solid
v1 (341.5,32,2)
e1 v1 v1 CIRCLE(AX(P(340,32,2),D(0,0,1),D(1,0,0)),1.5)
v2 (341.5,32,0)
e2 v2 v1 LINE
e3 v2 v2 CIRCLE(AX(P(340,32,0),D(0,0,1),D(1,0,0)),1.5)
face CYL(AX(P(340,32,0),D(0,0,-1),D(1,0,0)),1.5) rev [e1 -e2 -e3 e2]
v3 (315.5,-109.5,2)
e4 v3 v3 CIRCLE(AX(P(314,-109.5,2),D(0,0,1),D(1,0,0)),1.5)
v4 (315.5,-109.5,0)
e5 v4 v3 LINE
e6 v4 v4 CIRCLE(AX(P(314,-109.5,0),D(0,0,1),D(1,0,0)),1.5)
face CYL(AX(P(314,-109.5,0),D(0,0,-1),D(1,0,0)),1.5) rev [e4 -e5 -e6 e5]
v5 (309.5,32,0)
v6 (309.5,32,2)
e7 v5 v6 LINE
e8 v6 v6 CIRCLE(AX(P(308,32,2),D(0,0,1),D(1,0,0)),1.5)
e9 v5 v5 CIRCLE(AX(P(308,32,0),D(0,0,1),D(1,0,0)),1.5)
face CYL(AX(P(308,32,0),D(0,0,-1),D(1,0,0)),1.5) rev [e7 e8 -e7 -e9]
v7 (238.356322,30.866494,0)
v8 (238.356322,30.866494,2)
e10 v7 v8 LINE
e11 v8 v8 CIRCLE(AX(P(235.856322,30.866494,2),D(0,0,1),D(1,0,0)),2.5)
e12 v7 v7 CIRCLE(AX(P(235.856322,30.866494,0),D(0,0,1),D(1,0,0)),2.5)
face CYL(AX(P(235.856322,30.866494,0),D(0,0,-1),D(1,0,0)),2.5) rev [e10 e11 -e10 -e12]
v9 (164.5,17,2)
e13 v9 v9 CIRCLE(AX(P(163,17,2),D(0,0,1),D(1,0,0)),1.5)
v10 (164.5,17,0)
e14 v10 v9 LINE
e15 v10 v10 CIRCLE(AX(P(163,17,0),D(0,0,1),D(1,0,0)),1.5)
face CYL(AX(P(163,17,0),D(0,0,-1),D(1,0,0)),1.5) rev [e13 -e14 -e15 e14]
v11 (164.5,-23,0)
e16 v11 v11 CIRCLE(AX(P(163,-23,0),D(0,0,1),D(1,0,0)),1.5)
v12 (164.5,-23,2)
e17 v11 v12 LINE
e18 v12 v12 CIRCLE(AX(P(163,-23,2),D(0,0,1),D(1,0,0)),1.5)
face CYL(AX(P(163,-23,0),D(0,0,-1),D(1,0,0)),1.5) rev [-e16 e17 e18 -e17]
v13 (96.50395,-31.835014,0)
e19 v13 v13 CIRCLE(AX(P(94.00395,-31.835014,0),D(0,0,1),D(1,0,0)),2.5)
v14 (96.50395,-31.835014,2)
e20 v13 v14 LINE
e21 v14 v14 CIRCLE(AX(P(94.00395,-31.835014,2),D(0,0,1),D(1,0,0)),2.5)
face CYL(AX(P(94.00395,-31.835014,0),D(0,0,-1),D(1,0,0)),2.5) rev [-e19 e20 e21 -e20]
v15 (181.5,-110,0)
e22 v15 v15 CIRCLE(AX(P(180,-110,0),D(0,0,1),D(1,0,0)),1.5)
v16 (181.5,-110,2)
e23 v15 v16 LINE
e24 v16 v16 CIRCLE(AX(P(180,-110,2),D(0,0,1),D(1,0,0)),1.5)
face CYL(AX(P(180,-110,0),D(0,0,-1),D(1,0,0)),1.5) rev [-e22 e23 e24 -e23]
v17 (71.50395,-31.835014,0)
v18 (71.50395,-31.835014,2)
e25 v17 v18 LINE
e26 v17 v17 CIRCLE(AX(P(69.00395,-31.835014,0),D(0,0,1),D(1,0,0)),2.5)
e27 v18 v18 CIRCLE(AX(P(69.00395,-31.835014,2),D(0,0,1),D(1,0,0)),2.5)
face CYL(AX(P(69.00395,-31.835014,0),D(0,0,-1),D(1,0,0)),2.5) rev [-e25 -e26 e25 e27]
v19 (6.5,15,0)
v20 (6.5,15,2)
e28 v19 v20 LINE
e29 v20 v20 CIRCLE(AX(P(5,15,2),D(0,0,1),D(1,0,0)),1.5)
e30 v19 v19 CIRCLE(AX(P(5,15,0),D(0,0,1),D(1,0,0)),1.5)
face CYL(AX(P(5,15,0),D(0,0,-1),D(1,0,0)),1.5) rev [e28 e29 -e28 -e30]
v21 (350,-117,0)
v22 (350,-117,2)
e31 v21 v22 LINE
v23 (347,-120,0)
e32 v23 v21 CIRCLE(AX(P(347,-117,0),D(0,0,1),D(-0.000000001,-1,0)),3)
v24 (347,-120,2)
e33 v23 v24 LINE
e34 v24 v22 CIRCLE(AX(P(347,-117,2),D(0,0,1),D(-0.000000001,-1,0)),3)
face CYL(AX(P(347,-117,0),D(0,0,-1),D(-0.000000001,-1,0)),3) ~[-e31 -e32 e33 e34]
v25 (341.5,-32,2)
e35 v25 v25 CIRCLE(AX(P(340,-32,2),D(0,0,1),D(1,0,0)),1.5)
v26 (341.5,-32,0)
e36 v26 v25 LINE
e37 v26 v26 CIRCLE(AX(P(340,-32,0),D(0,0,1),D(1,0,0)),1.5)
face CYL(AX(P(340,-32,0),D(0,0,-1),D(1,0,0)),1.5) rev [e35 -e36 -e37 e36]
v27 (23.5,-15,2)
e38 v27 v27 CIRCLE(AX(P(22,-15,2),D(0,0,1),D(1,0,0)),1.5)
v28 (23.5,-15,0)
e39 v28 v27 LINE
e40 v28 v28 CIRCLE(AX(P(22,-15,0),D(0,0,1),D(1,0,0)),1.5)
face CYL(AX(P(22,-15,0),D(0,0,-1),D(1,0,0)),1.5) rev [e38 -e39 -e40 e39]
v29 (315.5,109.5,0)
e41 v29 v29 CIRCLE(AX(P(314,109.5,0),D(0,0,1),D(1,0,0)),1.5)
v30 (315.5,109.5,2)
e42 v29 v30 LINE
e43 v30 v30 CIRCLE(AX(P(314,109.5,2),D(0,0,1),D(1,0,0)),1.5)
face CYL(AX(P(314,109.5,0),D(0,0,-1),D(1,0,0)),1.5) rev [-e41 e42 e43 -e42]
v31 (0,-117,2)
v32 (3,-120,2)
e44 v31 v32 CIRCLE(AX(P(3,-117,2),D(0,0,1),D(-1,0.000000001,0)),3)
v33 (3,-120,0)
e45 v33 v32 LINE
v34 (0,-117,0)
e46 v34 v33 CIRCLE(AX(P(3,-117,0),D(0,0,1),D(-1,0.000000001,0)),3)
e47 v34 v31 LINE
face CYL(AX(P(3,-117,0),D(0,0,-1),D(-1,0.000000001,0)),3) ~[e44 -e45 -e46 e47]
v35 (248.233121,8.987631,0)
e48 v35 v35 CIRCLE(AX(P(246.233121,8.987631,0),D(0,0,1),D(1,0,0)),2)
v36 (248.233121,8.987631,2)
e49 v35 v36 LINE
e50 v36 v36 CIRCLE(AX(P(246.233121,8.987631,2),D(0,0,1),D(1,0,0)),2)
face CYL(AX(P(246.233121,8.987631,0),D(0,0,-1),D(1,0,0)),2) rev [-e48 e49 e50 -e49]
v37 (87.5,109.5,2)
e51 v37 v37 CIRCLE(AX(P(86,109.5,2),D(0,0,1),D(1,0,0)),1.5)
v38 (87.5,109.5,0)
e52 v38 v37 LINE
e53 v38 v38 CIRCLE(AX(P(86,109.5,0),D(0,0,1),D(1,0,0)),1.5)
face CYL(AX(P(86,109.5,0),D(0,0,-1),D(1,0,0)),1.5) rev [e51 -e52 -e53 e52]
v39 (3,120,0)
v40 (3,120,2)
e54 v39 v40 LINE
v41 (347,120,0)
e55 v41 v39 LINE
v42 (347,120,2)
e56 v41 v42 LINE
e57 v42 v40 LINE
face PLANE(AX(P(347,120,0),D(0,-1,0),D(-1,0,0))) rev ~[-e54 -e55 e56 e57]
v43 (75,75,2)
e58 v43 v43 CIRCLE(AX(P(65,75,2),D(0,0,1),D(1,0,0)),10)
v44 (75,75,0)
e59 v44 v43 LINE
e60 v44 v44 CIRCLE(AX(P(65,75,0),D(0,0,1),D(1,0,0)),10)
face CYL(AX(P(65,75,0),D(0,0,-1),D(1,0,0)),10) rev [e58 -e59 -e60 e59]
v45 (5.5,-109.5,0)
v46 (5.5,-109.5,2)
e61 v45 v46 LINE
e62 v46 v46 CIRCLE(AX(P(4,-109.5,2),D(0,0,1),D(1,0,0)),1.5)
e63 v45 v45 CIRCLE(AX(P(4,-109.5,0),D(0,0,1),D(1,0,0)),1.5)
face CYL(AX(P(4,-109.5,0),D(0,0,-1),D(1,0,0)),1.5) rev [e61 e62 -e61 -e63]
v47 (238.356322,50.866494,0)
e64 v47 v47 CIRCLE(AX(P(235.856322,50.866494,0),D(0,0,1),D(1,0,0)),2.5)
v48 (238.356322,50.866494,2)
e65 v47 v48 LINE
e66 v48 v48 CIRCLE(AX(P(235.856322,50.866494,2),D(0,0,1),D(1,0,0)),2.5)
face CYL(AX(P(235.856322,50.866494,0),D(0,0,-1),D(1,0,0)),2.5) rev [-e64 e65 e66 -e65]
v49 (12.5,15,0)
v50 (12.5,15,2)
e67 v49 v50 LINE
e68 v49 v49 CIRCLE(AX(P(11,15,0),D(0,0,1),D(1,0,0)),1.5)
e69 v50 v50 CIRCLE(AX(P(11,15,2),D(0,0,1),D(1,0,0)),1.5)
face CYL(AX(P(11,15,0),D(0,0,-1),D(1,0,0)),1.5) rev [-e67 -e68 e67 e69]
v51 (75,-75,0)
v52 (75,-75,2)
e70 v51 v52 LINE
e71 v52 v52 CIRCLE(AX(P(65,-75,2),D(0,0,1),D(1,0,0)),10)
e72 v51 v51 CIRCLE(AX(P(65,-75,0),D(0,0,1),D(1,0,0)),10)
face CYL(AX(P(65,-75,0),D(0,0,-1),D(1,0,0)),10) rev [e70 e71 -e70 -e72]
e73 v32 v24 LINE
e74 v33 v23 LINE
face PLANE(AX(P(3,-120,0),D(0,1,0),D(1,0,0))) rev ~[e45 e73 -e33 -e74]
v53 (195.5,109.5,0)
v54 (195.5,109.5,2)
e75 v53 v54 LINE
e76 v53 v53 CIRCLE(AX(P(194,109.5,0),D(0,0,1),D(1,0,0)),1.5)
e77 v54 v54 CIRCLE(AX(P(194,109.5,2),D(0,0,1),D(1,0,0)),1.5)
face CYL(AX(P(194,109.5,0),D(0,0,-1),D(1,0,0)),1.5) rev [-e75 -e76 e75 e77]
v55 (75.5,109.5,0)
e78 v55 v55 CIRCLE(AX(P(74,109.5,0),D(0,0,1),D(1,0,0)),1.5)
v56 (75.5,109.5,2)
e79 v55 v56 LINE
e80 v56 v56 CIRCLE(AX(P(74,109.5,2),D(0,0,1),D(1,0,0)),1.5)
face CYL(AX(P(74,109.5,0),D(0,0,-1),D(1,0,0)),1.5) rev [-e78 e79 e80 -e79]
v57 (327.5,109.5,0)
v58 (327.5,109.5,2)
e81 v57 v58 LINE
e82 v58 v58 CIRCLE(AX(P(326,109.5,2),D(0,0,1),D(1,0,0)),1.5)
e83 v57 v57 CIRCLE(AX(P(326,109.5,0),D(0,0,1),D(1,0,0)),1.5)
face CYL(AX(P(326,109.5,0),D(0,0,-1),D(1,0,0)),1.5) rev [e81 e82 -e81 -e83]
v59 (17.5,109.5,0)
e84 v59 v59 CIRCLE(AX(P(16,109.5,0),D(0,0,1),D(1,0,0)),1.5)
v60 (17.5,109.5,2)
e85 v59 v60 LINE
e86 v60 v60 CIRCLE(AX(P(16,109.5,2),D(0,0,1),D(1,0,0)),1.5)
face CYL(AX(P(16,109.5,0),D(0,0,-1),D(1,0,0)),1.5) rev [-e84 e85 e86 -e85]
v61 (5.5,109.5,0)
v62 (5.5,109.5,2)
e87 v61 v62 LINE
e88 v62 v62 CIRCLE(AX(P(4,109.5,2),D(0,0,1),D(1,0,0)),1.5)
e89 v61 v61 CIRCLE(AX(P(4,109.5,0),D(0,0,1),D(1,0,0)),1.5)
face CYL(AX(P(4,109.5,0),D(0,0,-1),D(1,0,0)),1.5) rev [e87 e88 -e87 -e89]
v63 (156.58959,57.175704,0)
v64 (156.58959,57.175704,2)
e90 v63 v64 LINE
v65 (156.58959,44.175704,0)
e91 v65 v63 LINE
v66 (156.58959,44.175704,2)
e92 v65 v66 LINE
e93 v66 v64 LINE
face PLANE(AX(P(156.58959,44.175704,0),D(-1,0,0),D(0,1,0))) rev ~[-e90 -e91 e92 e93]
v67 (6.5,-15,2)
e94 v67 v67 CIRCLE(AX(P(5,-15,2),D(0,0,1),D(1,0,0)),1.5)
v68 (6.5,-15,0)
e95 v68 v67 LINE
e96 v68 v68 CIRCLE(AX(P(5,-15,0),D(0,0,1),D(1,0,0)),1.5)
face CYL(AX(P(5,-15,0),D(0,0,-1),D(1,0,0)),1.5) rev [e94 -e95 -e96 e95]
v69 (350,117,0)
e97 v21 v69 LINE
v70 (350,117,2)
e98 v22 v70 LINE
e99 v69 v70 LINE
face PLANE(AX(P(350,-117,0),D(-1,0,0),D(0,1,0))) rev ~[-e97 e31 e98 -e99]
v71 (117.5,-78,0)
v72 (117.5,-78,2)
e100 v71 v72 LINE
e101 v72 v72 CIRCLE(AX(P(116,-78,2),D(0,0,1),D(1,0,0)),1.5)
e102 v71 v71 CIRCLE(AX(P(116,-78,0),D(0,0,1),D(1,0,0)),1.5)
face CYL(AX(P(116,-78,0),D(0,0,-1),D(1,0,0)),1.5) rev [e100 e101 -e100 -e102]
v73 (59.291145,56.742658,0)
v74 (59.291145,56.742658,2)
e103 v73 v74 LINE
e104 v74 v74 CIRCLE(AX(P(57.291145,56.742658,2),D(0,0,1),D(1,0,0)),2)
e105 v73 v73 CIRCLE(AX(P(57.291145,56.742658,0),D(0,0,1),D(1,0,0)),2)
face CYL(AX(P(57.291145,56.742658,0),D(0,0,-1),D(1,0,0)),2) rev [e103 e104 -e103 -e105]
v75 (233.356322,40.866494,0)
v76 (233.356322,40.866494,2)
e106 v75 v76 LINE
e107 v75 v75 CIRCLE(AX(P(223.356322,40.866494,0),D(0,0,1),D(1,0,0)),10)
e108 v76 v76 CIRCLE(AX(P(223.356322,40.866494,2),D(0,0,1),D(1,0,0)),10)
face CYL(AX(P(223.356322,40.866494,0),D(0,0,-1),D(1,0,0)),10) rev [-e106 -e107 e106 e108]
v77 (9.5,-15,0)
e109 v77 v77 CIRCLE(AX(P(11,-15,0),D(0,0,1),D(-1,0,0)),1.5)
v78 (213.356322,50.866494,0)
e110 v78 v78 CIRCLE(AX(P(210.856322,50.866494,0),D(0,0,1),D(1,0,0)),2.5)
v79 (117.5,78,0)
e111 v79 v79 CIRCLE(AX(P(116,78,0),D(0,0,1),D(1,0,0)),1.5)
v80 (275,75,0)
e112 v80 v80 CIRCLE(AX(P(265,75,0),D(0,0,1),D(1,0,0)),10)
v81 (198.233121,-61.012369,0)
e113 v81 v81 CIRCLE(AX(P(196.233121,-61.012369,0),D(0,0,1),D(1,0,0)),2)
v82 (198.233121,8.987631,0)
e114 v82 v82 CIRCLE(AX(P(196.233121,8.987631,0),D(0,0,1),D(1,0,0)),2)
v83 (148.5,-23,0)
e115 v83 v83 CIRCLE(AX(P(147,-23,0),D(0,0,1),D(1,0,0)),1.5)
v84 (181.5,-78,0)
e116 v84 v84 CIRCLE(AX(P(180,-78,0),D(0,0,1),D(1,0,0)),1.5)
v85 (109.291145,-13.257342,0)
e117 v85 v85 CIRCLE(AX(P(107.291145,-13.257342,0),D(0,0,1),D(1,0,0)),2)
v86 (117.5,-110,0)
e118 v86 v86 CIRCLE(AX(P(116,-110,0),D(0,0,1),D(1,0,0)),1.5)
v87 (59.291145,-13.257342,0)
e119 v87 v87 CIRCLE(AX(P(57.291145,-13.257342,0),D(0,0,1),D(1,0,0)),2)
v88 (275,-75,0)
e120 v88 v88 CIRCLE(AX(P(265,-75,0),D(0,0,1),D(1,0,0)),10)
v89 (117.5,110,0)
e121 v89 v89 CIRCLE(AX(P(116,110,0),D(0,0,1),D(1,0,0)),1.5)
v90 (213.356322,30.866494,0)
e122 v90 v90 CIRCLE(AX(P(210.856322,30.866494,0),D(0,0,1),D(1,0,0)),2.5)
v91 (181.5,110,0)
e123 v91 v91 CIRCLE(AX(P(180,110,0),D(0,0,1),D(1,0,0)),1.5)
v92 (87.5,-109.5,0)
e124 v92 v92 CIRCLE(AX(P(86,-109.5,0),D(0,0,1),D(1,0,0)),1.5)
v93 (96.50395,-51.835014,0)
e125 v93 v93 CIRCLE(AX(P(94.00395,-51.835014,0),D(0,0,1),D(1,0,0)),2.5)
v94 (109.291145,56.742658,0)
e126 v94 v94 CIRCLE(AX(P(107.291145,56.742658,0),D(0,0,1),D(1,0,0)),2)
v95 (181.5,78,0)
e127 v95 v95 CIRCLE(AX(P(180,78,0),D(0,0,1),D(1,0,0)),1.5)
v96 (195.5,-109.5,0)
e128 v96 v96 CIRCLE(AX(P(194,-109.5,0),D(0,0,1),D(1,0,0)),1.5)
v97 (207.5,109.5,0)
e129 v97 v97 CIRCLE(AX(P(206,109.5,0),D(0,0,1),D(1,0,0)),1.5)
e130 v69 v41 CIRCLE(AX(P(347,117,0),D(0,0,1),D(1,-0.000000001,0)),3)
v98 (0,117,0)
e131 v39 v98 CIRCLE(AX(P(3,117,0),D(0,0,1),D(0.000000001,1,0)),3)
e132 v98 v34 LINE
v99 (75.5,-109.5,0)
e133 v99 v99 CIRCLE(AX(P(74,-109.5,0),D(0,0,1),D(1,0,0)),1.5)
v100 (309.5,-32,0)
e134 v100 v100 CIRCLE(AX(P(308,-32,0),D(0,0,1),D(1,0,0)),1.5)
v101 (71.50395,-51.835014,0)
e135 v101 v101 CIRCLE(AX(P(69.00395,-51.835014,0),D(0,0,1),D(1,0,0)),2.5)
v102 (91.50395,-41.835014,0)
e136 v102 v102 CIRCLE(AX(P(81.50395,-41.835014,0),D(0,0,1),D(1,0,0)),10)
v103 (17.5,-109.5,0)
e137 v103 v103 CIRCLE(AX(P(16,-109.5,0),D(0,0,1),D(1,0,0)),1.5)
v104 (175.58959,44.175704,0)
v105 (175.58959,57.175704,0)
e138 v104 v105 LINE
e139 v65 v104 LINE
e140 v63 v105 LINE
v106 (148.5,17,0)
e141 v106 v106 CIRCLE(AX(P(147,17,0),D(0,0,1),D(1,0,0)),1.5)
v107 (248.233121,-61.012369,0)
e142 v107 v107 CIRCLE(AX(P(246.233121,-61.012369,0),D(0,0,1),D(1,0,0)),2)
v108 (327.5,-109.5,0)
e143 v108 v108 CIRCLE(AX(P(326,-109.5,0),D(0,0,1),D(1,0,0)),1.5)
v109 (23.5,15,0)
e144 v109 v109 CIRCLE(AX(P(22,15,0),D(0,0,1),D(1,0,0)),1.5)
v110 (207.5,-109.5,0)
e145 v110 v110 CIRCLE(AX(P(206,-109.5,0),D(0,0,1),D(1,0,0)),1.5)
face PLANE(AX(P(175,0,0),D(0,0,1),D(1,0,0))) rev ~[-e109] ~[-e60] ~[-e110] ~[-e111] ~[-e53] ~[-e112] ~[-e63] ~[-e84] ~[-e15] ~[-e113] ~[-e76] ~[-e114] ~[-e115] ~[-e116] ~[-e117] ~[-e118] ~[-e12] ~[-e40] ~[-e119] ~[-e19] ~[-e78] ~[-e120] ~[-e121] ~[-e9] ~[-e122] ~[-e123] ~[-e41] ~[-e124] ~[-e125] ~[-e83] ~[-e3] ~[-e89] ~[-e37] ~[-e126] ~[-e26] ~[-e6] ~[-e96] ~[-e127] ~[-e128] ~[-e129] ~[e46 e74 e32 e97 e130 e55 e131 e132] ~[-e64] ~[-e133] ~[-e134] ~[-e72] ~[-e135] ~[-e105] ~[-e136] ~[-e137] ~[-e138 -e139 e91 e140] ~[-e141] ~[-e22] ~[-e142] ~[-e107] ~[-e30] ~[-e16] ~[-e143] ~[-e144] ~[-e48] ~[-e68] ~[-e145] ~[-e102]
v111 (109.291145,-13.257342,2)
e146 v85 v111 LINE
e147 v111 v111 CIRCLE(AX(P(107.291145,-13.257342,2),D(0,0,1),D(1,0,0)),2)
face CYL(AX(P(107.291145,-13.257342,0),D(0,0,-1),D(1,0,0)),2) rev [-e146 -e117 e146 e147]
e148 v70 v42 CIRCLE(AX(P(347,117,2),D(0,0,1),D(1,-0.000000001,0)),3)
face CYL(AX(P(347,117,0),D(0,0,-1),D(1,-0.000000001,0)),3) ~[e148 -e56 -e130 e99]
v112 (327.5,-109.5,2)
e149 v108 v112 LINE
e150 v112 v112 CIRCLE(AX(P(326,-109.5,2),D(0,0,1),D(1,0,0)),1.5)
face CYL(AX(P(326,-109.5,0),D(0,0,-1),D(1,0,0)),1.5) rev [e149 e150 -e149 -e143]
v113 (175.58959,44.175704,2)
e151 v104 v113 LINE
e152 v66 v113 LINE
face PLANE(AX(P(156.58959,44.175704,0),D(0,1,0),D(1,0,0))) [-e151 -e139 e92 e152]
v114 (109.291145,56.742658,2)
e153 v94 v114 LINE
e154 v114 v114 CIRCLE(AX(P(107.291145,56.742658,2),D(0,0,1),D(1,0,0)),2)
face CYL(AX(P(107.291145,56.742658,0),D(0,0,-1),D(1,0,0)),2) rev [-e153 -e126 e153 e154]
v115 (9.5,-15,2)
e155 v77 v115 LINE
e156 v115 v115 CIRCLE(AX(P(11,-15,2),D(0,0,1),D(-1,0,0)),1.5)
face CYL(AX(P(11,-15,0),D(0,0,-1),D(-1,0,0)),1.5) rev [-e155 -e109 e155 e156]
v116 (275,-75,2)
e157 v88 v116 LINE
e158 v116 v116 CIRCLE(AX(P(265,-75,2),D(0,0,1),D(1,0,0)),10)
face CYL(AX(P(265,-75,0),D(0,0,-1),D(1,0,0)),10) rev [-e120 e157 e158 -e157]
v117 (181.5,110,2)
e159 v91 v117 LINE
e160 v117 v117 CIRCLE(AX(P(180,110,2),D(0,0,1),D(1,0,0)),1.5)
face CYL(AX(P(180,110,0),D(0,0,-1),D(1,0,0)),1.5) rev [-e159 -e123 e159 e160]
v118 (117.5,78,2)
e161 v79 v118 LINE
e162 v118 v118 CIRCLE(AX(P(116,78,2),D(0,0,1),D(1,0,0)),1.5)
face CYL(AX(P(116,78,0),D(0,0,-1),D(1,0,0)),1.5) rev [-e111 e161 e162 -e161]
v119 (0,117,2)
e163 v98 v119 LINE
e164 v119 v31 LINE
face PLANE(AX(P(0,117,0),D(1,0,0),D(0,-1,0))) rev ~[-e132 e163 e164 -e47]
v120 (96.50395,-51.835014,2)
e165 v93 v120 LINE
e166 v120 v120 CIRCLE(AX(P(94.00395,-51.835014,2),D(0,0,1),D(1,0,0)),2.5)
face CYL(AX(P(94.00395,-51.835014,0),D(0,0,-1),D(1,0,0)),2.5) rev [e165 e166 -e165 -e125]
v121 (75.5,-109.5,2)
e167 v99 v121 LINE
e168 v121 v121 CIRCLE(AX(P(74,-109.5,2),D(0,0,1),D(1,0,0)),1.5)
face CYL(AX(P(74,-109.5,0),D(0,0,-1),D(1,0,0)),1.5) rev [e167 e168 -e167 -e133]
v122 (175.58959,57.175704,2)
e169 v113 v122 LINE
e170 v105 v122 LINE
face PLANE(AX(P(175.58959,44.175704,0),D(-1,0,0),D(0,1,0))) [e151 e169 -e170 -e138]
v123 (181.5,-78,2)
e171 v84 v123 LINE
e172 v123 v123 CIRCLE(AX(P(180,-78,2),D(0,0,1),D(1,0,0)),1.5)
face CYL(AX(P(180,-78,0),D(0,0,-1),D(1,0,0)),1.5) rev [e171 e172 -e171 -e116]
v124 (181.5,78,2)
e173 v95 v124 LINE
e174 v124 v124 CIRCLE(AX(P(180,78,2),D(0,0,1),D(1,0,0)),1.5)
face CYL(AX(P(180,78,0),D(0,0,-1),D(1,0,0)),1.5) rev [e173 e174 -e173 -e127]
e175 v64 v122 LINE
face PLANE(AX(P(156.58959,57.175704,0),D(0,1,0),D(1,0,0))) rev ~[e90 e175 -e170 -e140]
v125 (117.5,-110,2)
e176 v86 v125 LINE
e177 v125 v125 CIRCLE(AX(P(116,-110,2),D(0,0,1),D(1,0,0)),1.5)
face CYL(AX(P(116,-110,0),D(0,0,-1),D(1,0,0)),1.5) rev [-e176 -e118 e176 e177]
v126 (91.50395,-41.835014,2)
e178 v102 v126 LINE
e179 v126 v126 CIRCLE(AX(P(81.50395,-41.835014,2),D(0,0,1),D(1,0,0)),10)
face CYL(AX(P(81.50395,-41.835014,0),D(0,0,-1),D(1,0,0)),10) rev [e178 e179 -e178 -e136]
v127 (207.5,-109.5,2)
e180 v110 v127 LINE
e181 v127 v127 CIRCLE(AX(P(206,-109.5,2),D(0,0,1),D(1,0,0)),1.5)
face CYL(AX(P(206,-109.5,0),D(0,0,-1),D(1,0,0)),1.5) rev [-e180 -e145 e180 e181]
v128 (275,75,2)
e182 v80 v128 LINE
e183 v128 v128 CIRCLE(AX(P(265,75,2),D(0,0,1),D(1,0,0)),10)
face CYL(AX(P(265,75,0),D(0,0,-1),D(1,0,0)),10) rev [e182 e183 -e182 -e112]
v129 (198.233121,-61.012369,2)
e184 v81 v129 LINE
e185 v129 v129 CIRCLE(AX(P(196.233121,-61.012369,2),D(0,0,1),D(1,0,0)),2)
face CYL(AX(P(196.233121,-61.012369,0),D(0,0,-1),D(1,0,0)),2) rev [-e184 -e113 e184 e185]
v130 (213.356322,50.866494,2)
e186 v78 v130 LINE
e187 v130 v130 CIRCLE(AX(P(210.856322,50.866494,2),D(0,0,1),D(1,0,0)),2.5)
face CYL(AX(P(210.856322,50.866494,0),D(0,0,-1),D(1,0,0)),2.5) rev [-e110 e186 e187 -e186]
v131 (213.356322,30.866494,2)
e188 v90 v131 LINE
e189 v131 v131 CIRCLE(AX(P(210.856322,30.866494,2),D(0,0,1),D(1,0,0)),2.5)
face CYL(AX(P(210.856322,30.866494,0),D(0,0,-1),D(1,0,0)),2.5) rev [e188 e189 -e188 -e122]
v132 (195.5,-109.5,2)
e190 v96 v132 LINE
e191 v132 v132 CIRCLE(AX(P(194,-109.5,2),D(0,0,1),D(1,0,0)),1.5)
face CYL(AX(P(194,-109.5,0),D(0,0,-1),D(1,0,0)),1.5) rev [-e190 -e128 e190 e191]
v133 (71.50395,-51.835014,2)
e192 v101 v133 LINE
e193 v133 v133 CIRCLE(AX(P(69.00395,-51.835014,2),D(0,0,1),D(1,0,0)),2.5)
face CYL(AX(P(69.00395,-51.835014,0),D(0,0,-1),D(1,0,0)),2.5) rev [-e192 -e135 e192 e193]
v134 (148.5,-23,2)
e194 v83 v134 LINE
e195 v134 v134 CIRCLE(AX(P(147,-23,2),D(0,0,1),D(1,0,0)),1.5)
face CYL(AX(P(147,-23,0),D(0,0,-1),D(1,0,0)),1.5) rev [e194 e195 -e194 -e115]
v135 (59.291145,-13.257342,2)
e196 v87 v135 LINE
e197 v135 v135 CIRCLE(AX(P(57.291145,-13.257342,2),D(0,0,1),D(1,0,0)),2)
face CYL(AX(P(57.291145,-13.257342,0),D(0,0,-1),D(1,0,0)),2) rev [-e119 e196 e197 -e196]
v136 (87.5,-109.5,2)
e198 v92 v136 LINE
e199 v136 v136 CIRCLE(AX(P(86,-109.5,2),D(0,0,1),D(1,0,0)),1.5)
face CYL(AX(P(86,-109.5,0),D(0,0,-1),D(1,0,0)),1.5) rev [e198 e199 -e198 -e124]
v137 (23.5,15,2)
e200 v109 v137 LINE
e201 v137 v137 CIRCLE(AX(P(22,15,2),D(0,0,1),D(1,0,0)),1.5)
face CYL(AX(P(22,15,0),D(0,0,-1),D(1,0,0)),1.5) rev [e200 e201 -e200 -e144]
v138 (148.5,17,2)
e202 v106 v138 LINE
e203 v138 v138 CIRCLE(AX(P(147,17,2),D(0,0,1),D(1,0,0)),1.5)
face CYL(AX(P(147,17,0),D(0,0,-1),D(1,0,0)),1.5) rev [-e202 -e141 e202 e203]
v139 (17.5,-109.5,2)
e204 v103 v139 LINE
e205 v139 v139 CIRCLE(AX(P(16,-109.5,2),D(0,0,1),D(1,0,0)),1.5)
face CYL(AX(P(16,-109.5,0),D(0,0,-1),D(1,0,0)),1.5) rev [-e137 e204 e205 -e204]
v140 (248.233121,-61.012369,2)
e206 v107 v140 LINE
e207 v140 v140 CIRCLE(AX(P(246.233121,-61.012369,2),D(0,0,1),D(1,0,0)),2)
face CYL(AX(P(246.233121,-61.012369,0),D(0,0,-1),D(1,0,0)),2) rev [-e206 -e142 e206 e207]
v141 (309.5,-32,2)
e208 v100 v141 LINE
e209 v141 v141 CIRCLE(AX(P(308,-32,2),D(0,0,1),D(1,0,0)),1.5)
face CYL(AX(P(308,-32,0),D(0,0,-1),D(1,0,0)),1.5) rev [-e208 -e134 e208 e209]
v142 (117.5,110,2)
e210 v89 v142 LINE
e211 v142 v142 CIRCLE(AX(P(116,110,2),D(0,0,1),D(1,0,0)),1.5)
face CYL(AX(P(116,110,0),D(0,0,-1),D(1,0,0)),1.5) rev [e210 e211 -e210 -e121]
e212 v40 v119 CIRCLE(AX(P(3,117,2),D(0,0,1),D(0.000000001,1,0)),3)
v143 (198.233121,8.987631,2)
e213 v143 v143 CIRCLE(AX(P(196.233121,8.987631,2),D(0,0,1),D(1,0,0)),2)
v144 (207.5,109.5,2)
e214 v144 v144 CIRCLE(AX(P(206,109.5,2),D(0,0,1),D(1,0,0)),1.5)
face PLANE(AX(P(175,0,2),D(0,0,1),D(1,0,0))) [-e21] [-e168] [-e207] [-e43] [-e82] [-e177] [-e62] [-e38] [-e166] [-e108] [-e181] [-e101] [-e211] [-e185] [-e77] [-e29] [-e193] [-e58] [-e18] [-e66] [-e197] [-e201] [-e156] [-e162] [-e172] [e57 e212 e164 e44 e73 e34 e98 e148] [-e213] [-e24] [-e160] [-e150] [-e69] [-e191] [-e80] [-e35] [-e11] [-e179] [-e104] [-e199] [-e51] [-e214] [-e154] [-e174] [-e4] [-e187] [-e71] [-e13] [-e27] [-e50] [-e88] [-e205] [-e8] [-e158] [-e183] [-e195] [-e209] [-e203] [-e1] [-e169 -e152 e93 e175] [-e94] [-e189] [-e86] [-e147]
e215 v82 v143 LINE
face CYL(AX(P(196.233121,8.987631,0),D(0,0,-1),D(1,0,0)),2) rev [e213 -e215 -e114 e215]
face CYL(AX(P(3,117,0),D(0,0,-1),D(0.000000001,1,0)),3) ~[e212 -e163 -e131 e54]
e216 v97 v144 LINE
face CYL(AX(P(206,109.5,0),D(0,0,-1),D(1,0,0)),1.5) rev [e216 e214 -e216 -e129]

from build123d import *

# Parameters (mm, degrees)
MODEL_R         = 1.5
MODEL_R_2       = 10
MODEL_R_3       = 2
MODEL_R_4       = 2.5
MODEL_W         = 19
MODEL_H         = 13
EXTRUDE_1_DEPTH = 2


with BuildPart() as part:
    # Model → 凸台-拉伸1 (new body)
    with BuildSketch(Plane.XY):
        with BuildLine():
            Line((347, 120), (3, 120))
            ThreePointArc((3, 120), (0.878679656, 119.121320344), (0, 117))
            Line((0, 117), (0, -117))
            ThreePointArc((0, -117), (0.878679656, -119.121320344), (3, -120))
            Line((3, -120), (347, -120))
            ThreePointArc((347, -120), (349.121320344, -119.121320344), (350, -117))
            Line((350, -117), (350, 117))
            ThreePointArc((350, 117), (349.121320344, 119.121320344), (347, 120))
        make_face()
        with Locations((4, 109.5)):
            Circle(MODEL_R, mode=Mode.SUBTRACT)
        with Locations((16, 109.5)):
            Circle(MODEL_R, mode=Mode.SUBTRACT)
        with Locations((74, 109.5)):
            Circle(MODEL_R, mode=Mode.SUBTRACT)
        with Locations((86, 109.5)):
            Circle(MODEL_R, mode=Mode.SUBTRACT)
        with Locations((194, 109.5)):
            Circle(MODEL_R, mode=Mode.SUBTRACT)
        with Locations((206, 109.5)):
            Circle(MODEL_R, mode=Mode.SUBTRACT)
        with Locations((314, 109.5)):
            Circle(MODEL_R, mode=Mode.SUBTRACT)
        with Locations((326, 109.5)):
            Circle(MODEL_R, mode=Mode.SUBTRACT)
        with Locations((5, 15)):
            Circle(MODEL_R, mode=Mode.SUBTRACT)
        with Locations((22, 15)):
            Circle(MODEL_R, mode=Mode.SUBTRACT)
        with Locations((147, 17)):
            Circle(MODEL_R, mode=Mode.SUBTRACT)
        with Locations((163, 17)):
            Circle(MODEL_R, mode=Mode.SUBTRACT)
        with Locations((308, 32)):
            Circle(MODEL_R, mode=Mode.SUBTRACT)
        with Locations((340, 32)):
            Circle(MODEL_R, mode=Mode.SUBTRACT)
        with Locations((147, -23)):
            Circle(MODEL_R, mode=Mode.SUBTRACT)
        with Locations((163, -23)):
            Circle(MODEL_R, mode=Mode.SUBTRACT)
        with Locations((340, -32)):
            Circle(MODEL_R, mode=Mode.SUBTRACT)
        with Locations((308, -32)):
            Circle(MODEL_R, mode=Mode.SUBTRACT)
        with Locations((5, -15)):
            Circle(MODEL_R, mode=Mode.SUBTRACT)
        with Locations((22, -15)):
            Circle(MODEL_R, mode=Mode.SUBTRACT)
        with Locations((326, -109.5)):
            Circle(MODEL_R, mode=Mode.SUBTRACT)
        with Locations((314, -109.5)):
            Circle(MODEL_R, mode=Mode.SUBTRACT)
        with Locations((206, -109.5)):
            Circle(MODEL_R, mode=Mode.SUBTRACT)
        with Locations((194, -109.5)):
            Circle(MODEL_R, mode=Mode.SUBTRACT)
        with Locations((4, -109.5)):
            Circle(MODEL_R, mode=Mode.SUBTRACT)
        with Locations((16, -109.5)):
            Circle(MODEL_R, mode=Mode.SUBTRACT)
        with Locations((86, -109.5)):
            Circle(MODEL_R, mode=Mode.SUBTRACT)
        with Locations((74, -109.5)):
            Circle(MODEL_R, mode=Mode.SUBTRACT)
        with Locations((116, 110)):
            Circle(MODEL_R, mode=Mode.SUBTRACT)
        with Locations((180, 110)):
            Circle(MODEL_R, mode=Mode.SUBTRACT)
        with Locations((180, 78)):
            Circle(MODEL_R, mode=Mode.SUBTRACT)
        with Locations((116, 78)):
            Circle(MODEL_R, mode=Mode.SUBTRACT)
        with Locations((116, -110)):
            Circle(MODEL_R, mode=Mode.SUBTRACT)
        with Locations((116, -78)):
            Circle(MODEL_R, mode=Mode.SUBTRACT)
        with Locations((180, -110)):
            Circle(MODEL_R, mode=Mode.SUBTRACT)
        with Locations((180, -78)):
            Circle(MODEL_R, mode=Mode.SUBTRACT)
        with Locations((65, 75)):
            Circle(MODEL_R_2, mode=Mode.SUBTRACT)
        with Locations((265, 75)):
            Circle(MODEL_R_2, mode=Mode.SUBTRACT)
        with Locations((65, -75)):
            Circle(MODEL_R_2, mode=Mode.SUBTRACT)
        with Locations((265, -75)):
            Circle(MODEL_R_2, mode=Mode.SUBTRACT)
        with Locations((196.233121438, 8.98763143)):
            Circle(MODEL_R_3, mode=Mode.SUBTRACT)
        with Locations((246.233121438, 8.98763143)):
            Circle(MODEL_R_3, mode=Mode.SUBTRACT)
        with Locations((246.233121438, -61.01236857)):
            Circle(MODEL_R_3, mode=Mode.SUBTRACT)
        with Locations((196.233121438, -61.01236857)):
            Circle(MODEL_R_3, mode=Mode.SUBTRACT)
        with Locations((57.291145141, 56.742657586)):
            Circle(MODEL_R_3, mode=Mode.SUBTRACT)
        with Locations((107.291145141, 56.742657586)):
            Circle(MODEL_R_3, mode=Mode.SUBTRACT)
        with Locations((107.291145141, -13.257342414)):
            Circle(MODEL_R_3, mode=Mode.SUBTRACT)
        with Locations((57.291145141, -13.257342414)):
            Circle(MODEL_R_3, mode=Mode.SUBTRACT)
        with Locations((223.356321923, 40.866493507)):
            Circle(MODEL_R_2, mode=Mode.SUBTRACT)
        with Locations((235.856321923, 50.866493507)):
            Circle(MODEL_R_4, mode=Mode.SUBTRACT)
        with Locations((235.856321923, 30.866493507)):
            Circle(MODEL_R_4, mode=Mode.SUBTRACT)
        with Locations((210.856321923, 50.866493507)):
            Circle(MODEL_R_4, mode=Mode.SUBTRACT)
        with Locations((210.856321923, 30.866493507)):
            Circle(MODEL_R_4, mode=Mode.SUBTRACT)
        with Locations((81.50395009, -41.835014451)):
            Circle(MODEL_R_2, mode=Mode.SUBTRACT)
        with Locations((94.00395009, -31.835014451)):
            Circle(MODEL_R_4, mode=Mode.SUBTRACT)
        with Locations((94.00395009, -51.835014451)):
            Circle(MODEL_R_4, mode=Mode.SUBTRACT)
        with Locations((69.00395009, -31.835014451)):
            Circle(MODEL_R_4, mode=Mode.SUBTRACT)
        with Locations((69.00395009, -51.835014451)):
            Circle(MODEL_R_4, mode=Mode.SUBTRACT)
        with Locations((11, 15)):
            Circle(MODEL_R, mode=Mode.SUBTRACT)
        with Locations(Location((11, -15, 0), (0, 0, 180))):
            Circle(MODEL_R, mode=Mode.SUBTRACT)
        with Locations((166.089590214, 50.675703705)):
            Rectangle(MODEL_W, MODEL_H, mode=Mode.SUBTRACT)
    extrude(amount=EXTRUDE_1_DEPTH)


solid = part.part
